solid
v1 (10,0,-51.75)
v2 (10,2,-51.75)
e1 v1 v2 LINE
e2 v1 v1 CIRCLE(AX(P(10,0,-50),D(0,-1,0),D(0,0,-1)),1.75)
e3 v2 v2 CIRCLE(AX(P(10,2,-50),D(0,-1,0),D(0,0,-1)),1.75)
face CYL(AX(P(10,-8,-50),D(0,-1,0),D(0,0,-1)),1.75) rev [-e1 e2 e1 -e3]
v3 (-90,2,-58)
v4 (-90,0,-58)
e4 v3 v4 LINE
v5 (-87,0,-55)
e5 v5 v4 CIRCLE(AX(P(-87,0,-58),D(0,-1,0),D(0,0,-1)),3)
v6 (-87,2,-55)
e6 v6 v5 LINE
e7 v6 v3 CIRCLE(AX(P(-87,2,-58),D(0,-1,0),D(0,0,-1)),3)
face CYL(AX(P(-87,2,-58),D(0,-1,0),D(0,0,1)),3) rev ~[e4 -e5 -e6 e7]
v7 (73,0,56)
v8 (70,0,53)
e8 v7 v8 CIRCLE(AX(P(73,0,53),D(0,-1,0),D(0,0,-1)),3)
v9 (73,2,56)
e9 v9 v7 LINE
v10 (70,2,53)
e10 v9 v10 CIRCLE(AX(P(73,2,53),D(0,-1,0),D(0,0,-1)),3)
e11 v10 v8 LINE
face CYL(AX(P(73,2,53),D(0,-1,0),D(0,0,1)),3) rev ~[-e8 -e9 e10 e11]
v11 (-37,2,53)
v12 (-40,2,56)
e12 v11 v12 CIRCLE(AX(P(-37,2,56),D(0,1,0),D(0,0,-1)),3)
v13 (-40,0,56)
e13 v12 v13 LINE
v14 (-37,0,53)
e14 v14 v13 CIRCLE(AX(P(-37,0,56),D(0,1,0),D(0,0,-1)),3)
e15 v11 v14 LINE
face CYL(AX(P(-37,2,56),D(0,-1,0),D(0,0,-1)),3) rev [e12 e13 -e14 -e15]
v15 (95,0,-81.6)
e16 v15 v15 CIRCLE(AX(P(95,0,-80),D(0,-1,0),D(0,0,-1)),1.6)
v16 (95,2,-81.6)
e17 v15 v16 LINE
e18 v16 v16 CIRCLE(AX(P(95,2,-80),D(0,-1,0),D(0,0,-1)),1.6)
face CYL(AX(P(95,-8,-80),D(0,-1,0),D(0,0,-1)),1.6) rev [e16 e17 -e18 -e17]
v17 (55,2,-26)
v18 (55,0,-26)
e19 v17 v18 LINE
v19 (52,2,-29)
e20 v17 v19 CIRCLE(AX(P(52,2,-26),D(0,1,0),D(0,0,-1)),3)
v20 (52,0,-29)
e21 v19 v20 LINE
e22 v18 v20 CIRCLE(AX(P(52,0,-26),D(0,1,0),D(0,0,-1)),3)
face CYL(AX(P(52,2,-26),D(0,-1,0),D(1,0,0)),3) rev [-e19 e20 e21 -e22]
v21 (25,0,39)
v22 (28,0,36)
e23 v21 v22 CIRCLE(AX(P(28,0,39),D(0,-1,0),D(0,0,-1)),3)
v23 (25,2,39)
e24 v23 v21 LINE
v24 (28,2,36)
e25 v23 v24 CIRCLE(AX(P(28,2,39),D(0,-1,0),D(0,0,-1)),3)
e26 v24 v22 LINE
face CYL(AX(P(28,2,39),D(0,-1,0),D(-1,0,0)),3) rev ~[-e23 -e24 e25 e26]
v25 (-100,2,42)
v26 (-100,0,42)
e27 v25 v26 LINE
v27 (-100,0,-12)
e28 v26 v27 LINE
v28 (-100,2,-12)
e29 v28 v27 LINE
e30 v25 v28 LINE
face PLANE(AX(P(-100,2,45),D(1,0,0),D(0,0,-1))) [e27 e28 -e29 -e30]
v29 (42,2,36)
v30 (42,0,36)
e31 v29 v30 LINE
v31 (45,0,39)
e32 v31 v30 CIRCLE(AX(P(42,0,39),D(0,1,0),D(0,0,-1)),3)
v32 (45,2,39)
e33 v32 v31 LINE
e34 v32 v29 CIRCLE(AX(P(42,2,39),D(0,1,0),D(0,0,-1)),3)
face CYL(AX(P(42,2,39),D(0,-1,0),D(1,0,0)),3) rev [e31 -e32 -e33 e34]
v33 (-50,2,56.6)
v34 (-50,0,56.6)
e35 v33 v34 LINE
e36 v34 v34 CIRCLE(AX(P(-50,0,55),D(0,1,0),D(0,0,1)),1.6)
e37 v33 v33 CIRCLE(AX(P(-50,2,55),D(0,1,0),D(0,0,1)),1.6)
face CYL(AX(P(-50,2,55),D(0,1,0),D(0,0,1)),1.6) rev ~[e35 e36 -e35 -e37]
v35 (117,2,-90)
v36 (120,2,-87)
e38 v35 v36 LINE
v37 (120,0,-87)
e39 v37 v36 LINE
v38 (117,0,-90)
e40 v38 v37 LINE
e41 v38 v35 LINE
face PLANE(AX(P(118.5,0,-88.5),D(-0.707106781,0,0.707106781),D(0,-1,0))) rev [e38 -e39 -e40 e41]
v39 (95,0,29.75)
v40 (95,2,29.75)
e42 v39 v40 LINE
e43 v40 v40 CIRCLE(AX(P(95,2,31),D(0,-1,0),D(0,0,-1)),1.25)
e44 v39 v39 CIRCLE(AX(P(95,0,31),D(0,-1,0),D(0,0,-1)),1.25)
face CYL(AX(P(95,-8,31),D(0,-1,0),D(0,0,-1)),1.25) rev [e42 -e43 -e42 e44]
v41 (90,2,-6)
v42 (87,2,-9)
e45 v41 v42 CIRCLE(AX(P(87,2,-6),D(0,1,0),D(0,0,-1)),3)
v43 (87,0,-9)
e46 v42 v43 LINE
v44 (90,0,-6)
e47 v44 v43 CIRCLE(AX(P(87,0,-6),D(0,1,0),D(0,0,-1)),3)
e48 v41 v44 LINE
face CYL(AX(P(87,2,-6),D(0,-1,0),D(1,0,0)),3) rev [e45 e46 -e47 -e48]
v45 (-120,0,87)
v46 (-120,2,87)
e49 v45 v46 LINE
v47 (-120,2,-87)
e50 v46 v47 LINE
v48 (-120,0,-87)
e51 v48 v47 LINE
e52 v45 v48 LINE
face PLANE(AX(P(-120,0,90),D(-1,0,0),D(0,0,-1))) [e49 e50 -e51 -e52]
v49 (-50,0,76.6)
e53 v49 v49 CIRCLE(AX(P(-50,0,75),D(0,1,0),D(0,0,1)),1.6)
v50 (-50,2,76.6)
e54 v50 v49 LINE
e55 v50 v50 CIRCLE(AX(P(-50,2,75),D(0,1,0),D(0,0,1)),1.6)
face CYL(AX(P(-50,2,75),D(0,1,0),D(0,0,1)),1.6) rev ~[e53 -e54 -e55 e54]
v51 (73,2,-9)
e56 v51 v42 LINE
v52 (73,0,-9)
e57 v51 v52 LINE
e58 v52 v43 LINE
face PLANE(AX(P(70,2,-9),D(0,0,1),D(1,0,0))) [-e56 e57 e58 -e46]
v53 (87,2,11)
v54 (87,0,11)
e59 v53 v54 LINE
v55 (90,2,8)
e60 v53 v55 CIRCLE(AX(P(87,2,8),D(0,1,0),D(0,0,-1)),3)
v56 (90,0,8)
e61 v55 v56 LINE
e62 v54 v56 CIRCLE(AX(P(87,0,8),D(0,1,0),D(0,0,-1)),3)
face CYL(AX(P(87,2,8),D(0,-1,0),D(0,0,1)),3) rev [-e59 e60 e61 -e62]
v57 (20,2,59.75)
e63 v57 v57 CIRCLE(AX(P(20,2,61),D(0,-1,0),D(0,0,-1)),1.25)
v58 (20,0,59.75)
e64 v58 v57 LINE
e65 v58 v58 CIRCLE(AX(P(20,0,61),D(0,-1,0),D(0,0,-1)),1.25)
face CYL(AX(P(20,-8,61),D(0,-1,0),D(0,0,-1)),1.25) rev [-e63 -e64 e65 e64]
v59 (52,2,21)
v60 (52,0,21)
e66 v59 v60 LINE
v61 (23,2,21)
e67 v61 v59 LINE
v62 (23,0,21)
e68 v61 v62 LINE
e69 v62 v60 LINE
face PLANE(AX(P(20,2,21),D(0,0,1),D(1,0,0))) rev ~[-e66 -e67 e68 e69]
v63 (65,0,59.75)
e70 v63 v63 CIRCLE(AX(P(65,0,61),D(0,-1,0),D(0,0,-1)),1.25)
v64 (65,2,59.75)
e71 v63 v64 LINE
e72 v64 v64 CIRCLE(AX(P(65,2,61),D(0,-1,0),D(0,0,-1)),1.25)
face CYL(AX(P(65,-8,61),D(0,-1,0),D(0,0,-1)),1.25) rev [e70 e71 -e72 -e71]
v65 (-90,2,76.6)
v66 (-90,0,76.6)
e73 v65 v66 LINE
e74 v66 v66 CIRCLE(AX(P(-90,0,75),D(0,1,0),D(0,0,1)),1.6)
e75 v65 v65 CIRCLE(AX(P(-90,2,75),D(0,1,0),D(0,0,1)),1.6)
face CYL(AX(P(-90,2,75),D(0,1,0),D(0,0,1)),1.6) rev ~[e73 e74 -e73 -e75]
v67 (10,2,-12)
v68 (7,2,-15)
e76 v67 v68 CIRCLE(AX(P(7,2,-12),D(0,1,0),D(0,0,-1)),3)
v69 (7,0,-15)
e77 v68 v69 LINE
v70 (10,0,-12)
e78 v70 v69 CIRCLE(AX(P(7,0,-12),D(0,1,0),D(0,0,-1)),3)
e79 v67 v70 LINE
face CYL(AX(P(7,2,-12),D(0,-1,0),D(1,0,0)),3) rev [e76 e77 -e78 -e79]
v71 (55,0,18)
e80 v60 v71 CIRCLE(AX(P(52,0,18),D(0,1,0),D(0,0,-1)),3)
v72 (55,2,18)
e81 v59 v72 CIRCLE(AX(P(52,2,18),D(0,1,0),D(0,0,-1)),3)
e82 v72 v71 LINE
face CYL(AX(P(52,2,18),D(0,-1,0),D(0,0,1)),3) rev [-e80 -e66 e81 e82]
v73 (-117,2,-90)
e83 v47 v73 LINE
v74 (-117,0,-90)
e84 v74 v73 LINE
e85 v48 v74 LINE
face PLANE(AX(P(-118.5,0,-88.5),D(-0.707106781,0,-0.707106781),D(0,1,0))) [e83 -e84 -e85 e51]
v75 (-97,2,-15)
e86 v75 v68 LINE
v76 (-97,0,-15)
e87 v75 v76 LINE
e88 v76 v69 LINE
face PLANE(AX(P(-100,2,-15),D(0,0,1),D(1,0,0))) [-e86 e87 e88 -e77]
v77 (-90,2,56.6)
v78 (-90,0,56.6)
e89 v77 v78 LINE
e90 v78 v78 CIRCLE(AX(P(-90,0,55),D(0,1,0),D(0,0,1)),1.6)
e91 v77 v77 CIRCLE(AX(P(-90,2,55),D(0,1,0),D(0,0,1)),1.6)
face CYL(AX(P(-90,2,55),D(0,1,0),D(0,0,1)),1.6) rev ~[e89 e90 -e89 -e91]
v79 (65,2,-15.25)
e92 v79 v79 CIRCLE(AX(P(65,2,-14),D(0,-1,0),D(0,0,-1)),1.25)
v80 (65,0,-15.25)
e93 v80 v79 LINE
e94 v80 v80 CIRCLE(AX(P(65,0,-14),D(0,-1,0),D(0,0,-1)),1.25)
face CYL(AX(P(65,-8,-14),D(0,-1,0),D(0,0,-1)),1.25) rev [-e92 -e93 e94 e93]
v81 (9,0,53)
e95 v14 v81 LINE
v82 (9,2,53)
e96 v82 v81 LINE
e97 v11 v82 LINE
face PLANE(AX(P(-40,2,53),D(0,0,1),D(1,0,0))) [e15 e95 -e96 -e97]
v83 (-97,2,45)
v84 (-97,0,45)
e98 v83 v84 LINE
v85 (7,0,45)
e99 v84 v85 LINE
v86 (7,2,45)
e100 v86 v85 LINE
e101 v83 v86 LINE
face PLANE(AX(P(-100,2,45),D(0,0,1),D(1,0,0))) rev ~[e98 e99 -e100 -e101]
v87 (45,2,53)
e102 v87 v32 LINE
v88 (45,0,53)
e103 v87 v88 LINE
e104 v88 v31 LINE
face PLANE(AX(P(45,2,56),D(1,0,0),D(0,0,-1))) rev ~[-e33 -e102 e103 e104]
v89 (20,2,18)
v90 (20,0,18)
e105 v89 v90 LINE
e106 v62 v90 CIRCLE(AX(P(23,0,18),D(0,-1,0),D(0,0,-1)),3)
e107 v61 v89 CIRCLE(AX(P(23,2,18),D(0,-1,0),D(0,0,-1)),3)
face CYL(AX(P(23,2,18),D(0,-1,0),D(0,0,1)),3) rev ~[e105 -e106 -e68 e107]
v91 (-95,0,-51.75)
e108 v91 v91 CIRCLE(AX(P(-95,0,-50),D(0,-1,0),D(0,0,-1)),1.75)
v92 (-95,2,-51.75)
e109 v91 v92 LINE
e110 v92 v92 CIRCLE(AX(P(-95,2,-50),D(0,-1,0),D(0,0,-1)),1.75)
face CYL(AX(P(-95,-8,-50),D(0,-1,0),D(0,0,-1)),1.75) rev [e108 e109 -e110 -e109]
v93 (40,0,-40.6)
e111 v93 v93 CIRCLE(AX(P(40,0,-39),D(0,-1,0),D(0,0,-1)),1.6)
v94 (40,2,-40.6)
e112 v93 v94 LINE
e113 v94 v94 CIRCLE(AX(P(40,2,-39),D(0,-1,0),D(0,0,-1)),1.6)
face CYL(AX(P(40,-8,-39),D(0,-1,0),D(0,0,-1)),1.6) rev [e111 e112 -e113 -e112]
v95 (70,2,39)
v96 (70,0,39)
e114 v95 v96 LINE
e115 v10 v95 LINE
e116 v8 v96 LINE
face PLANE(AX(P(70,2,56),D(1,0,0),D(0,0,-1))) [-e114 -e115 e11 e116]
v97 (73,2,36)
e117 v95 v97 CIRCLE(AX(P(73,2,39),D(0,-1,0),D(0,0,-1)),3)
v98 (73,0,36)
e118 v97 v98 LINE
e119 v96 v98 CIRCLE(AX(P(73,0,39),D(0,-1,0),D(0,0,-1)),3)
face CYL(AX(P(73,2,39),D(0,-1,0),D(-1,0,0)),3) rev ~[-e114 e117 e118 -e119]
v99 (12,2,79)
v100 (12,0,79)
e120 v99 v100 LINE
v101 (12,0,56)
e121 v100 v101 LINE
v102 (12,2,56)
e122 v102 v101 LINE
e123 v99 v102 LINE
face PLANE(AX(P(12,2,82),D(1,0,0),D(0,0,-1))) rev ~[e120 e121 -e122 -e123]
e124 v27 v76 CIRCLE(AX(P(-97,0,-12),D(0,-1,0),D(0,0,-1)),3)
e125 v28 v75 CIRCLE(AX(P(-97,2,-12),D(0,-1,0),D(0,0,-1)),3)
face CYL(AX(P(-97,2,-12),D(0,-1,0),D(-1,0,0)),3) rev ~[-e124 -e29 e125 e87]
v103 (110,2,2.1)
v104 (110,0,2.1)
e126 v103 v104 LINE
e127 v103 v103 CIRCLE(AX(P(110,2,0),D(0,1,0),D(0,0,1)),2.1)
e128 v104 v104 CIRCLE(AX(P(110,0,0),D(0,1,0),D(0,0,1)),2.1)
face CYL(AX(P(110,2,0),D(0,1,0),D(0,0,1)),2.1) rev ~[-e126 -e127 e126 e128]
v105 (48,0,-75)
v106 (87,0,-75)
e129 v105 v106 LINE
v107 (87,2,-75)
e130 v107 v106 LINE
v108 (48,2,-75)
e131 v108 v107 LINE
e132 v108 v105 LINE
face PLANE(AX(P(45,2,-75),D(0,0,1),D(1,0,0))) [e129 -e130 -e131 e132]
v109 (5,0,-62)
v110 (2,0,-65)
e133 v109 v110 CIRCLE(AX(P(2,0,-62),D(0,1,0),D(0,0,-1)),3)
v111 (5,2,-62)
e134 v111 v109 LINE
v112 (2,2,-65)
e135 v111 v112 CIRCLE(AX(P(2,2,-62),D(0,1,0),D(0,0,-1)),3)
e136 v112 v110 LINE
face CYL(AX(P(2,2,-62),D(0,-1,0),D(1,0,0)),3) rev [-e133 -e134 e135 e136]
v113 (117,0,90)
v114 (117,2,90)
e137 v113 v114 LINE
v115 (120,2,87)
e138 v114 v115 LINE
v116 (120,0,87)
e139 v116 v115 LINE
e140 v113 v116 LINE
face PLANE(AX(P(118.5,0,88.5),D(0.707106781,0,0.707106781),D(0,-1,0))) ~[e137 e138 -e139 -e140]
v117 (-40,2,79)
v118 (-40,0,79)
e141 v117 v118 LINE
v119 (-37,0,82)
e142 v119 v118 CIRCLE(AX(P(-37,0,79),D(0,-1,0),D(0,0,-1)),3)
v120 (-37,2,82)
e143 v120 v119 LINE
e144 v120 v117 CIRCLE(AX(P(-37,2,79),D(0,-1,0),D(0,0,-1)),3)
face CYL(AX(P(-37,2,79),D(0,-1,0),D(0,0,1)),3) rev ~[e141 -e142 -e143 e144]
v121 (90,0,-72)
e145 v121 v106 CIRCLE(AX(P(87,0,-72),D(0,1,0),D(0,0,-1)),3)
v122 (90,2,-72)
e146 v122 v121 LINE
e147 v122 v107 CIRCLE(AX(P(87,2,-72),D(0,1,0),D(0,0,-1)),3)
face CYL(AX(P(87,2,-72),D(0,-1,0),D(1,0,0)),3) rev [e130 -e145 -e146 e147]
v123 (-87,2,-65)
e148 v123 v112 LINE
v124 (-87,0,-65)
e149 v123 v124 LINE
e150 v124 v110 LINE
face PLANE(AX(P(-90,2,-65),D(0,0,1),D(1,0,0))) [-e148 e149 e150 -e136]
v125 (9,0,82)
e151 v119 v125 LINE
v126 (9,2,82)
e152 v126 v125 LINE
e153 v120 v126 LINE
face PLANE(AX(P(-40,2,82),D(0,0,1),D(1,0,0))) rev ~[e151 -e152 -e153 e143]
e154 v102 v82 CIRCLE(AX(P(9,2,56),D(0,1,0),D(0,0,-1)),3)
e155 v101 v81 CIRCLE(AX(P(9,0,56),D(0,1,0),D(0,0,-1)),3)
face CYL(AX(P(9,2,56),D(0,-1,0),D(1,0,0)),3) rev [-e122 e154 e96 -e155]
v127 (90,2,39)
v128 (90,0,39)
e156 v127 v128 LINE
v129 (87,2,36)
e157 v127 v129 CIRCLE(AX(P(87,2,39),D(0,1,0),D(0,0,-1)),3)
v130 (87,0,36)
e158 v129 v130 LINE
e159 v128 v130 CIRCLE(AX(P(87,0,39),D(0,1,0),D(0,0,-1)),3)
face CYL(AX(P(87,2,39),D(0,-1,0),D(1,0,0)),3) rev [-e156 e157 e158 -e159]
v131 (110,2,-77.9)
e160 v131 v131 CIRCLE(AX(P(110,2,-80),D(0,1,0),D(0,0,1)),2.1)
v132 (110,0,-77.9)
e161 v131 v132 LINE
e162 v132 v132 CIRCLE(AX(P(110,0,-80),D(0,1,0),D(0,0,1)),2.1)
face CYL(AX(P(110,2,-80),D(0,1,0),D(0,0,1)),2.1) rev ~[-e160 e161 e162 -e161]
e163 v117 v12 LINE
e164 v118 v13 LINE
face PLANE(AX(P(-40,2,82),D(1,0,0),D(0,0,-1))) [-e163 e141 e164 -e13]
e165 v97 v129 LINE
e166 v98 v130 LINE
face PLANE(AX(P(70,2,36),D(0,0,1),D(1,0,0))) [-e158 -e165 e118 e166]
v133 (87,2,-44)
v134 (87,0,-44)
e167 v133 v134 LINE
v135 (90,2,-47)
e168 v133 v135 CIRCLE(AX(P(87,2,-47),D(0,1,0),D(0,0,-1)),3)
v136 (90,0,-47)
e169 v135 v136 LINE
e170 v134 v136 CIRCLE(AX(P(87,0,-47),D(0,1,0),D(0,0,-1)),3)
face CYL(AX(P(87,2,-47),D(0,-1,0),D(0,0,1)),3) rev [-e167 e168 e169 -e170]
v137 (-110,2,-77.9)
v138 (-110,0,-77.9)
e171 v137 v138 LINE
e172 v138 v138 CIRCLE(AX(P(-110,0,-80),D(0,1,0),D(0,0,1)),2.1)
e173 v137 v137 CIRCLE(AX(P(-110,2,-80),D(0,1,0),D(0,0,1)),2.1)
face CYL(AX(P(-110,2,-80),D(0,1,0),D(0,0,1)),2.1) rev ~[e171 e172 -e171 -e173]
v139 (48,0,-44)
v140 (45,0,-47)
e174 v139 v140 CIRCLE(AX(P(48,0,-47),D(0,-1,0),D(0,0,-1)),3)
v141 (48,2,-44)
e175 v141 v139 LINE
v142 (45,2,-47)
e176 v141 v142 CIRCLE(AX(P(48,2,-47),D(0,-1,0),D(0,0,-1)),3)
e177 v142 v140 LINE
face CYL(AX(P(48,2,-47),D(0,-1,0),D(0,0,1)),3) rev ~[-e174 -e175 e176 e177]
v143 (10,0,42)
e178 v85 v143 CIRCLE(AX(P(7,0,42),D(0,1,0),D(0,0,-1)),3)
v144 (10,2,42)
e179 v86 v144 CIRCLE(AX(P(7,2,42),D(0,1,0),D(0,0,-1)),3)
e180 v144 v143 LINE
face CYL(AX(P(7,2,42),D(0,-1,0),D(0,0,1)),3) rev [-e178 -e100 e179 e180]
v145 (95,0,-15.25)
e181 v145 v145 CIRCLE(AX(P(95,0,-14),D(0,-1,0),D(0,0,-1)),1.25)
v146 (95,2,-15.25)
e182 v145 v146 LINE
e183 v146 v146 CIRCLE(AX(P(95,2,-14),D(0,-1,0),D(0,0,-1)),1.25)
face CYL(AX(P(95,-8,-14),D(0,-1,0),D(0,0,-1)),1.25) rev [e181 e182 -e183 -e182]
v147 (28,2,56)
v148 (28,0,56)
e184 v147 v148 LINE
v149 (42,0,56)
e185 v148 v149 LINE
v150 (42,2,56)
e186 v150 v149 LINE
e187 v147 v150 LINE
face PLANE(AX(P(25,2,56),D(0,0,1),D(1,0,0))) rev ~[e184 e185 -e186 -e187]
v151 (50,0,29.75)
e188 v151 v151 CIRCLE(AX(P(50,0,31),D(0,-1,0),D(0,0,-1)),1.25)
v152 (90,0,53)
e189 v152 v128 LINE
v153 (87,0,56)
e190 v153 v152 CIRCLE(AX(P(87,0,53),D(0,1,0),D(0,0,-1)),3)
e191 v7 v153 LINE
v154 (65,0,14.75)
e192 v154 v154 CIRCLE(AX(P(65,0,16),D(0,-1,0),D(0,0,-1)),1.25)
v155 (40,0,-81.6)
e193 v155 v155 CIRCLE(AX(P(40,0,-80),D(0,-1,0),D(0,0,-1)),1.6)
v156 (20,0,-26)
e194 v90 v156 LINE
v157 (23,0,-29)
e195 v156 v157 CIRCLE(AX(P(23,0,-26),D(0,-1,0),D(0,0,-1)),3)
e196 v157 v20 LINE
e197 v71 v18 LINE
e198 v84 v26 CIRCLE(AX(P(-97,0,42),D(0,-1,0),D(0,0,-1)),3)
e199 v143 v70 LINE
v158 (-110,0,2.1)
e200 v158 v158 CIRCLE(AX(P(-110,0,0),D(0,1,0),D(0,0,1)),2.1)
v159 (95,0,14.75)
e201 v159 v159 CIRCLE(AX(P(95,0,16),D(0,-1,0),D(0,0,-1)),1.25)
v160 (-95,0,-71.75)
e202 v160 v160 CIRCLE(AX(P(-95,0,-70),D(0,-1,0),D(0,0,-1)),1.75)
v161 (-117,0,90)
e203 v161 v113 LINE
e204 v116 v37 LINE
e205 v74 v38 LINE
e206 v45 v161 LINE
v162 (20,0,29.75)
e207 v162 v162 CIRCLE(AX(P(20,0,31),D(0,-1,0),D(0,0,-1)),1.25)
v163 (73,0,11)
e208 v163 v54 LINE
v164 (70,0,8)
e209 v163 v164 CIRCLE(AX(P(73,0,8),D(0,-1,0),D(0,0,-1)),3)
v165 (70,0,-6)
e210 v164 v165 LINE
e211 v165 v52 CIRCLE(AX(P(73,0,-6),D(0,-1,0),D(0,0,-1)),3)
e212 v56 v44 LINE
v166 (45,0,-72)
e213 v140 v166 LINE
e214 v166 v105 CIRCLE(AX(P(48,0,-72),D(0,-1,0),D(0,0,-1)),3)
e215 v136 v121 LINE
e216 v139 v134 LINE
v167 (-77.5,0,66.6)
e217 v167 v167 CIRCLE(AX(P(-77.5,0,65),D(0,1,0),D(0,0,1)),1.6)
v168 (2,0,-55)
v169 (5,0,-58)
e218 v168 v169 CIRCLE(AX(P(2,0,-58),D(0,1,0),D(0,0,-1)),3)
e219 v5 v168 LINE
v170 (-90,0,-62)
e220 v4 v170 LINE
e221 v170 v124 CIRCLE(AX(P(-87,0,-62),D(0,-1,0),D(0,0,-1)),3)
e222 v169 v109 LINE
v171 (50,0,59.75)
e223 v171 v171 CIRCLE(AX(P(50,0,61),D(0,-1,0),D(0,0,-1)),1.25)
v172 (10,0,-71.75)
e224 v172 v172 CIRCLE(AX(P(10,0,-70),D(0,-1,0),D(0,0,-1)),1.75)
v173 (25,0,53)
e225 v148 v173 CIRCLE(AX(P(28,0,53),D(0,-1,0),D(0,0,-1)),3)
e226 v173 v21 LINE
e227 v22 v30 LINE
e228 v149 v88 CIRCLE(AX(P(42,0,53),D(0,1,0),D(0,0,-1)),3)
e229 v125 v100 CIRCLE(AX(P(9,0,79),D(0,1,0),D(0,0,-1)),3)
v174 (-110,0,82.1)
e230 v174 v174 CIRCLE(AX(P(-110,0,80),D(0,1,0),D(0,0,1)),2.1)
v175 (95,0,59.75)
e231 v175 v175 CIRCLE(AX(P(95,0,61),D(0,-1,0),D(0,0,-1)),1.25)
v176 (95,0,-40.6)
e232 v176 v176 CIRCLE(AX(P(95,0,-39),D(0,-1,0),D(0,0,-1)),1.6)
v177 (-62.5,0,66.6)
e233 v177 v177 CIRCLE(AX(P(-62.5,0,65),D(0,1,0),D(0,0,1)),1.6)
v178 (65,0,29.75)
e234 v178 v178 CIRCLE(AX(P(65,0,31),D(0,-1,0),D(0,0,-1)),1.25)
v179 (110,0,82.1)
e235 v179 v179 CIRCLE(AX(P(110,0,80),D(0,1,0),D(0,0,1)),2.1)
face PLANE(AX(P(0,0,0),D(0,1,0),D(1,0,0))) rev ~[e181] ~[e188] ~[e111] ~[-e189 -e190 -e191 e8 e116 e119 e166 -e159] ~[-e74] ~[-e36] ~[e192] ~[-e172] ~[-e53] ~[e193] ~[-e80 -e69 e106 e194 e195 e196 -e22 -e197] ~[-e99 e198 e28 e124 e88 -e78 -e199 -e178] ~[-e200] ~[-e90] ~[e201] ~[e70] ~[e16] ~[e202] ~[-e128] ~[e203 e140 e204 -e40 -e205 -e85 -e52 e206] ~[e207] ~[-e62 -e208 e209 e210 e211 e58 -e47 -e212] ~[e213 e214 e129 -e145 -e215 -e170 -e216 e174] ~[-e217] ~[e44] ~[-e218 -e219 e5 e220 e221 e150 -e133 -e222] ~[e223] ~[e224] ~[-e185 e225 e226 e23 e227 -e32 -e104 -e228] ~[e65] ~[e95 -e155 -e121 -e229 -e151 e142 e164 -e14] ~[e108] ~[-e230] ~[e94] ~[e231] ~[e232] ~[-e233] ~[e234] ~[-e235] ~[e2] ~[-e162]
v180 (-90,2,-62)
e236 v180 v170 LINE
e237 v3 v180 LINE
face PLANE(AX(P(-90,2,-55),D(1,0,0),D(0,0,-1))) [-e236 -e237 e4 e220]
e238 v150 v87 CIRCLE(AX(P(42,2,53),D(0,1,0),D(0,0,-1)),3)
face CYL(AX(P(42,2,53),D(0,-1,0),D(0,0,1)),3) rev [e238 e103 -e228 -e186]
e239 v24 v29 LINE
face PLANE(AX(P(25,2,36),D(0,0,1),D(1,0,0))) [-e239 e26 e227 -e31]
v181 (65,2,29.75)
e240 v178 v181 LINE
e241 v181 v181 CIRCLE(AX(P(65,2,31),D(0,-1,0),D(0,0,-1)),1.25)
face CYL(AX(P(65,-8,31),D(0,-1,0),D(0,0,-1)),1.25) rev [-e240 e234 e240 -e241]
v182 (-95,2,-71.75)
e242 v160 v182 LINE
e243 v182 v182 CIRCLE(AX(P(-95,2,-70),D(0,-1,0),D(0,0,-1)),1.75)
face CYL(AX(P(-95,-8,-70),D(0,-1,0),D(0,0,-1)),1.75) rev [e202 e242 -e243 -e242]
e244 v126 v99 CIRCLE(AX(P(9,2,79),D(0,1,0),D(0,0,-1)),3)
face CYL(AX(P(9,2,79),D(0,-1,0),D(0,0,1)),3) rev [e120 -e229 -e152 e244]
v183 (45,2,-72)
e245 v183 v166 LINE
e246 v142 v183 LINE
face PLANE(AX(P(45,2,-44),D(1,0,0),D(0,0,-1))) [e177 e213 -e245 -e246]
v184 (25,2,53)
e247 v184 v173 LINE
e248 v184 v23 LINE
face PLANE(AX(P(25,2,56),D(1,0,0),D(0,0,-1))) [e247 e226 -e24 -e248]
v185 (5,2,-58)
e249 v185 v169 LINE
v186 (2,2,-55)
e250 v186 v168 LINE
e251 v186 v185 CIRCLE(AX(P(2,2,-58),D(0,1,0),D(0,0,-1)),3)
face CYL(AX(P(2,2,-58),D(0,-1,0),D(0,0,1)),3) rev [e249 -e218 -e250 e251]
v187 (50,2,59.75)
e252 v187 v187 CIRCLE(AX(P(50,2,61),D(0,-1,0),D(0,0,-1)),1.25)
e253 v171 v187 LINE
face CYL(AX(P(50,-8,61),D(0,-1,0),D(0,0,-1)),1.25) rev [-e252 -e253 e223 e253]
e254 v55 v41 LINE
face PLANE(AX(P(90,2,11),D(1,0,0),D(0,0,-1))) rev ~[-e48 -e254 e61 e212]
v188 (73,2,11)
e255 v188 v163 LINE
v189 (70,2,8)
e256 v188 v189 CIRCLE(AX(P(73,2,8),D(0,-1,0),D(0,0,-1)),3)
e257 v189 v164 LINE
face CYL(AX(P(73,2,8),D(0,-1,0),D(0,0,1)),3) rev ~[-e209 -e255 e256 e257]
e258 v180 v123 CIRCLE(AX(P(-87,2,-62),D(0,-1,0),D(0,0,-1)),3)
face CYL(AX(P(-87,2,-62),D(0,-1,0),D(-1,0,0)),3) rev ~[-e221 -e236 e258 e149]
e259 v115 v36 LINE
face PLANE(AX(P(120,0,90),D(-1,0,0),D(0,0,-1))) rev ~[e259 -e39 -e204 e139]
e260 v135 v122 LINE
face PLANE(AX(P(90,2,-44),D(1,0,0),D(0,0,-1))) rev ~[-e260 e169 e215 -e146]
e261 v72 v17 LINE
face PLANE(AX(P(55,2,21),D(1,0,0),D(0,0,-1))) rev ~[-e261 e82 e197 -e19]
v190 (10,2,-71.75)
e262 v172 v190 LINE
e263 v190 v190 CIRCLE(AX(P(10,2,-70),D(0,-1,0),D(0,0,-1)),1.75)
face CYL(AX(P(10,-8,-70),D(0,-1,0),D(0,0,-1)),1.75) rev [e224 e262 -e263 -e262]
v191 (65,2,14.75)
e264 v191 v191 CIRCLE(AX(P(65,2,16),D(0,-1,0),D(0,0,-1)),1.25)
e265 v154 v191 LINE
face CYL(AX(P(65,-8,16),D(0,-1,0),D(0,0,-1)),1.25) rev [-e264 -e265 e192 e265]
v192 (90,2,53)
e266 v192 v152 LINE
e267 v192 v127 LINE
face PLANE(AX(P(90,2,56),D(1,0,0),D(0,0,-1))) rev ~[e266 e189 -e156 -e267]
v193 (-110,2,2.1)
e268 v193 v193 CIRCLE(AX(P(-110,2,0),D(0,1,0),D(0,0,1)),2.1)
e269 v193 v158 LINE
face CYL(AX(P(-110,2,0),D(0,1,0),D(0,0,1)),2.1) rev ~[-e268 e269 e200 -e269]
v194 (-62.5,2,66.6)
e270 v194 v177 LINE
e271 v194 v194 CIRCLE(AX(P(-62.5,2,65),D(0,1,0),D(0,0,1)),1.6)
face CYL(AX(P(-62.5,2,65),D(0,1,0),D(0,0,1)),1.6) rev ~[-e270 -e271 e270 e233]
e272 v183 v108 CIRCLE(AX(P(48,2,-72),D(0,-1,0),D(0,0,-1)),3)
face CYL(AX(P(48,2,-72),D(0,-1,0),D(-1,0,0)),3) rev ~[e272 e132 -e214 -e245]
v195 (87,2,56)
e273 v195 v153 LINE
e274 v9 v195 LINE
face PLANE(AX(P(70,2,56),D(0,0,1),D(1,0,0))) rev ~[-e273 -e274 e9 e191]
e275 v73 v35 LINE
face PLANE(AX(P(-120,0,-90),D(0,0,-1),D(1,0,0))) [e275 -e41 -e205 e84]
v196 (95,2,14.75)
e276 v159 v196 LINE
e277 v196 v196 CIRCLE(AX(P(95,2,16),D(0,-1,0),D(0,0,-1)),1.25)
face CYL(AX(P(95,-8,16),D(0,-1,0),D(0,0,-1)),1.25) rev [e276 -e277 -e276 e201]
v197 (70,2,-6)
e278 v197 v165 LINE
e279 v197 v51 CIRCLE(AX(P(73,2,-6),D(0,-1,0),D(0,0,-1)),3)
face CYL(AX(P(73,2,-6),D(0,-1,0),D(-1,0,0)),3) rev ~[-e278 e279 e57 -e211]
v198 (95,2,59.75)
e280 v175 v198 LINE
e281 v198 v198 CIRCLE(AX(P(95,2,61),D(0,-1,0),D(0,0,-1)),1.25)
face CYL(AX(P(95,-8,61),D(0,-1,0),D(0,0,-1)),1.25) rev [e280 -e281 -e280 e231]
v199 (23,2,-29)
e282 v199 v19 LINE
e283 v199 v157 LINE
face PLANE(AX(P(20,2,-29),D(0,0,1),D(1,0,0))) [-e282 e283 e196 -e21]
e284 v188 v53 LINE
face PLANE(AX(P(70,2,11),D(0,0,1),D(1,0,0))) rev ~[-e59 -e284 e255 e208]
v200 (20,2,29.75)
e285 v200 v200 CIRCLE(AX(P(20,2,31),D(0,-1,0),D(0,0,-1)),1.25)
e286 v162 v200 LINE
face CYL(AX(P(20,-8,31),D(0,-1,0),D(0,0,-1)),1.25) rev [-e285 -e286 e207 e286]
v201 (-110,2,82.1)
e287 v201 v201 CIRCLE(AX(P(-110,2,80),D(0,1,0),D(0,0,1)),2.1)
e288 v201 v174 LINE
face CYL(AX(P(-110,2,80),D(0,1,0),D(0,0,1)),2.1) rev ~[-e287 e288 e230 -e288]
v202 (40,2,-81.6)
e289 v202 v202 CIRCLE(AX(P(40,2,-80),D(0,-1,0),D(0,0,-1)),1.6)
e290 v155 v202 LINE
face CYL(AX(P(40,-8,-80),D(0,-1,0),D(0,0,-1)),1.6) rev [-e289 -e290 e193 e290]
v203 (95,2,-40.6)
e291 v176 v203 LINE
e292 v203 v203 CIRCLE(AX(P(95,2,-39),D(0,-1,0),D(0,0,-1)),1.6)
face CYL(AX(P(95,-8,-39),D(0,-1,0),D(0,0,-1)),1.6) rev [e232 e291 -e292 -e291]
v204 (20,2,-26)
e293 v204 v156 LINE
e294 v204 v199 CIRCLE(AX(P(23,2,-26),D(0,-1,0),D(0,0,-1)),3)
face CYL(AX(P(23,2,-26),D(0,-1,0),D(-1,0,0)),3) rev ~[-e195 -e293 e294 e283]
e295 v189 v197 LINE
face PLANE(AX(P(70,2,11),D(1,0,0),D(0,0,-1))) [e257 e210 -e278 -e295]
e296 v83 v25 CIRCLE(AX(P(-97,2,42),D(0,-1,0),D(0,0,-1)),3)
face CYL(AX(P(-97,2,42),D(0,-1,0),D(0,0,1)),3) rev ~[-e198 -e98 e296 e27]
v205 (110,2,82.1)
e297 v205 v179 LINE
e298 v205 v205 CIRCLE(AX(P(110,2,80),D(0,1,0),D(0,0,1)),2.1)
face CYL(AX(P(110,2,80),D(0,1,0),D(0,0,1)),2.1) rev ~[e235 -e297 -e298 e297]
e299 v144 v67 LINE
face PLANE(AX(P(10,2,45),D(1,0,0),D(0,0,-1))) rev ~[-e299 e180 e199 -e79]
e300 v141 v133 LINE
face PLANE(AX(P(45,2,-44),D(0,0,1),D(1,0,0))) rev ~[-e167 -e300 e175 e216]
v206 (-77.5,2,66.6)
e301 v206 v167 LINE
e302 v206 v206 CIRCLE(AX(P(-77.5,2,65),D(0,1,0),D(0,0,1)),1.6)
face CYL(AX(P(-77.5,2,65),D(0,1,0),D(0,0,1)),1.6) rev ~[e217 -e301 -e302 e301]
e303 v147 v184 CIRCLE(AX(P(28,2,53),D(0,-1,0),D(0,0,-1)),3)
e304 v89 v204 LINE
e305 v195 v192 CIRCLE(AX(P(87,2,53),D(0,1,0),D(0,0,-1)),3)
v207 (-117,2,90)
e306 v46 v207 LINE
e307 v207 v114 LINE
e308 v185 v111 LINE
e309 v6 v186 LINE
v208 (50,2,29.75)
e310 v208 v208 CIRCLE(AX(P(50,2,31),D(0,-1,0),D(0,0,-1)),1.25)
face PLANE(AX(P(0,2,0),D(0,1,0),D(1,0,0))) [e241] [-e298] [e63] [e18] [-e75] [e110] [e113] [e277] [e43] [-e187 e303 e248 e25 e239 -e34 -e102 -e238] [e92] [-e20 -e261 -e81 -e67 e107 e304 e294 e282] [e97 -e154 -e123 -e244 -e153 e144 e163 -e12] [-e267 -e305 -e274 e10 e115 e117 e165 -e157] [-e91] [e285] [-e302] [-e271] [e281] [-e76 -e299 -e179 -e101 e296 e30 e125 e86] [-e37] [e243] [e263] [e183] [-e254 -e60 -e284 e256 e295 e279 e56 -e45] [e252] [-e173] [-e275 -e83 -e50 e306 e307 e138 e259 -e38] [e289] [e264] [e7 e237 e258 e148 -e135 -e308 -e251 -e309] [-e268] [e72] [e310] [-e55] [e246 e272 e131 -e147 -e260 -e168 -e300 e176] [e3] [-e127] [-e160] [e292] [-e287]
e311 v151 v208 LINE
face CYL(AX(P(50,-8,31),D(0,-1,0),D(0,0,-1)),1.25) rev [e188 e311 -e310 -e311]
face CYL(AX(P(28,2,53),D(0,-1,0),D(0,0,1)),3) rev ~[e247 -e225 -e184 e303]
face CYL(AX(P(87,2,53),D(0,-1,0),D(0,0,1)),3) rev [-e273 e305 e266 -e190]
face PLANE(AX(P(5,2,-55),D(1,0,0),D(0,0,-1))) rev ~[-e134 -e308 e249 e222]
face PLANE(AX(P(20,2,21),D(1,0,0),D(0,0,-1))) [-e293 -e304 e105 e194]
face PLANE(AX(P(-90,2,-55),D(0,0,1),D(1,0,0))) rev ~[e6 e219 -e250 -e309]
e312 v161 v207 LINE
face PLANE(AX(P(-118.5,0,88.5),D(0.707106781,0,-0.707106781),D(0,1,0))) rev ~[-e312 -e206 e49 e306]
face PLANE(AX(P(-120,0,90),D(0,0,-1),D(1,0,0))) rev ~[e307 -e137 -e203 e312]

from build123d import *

# Parameters (mm, degrees)
SKETCH_1_W               = 240
SKETCH_1_H               = 180
EXTRUDE_1_DEPTH          = 2
SKETCH_3_R               = 2.1
CUT_EXTRUDE_2_DEPTH      = 10
CUT_EXTRUDE_3_DEPTH      = 151.013332741
CUT_EXTRUDE_3_DEPTH_BACK = 10
SKETCH_4_R               = 1.6
SKETCH_4_R_2             = 1.25
SKETCH_4_R_3             = 1.75
SKETCH_5_R               = 1.6
CUT_EXTRUDE_4_DEPTH      = 10
SKETCH_6_W               = 45
SKETCH_6_H               = 31
SKETCH_6_W_2             = 110
SKETCH_6_H_2             = 60
SKETCH_6_W_3             = 20
SKETCH_6_H_3             = 20
SKETCH_6_W_4             = 35
SKETCH_6_H_4             = 50
SKETCH_6_W_5             = 95
SKETCH_6_H_5             = 10
CUT_EXTRUDE_5_DEPTH      = 10
SKETCH_7_W               = 52
SKETCH_7_H               = 29
CUT_EXTRUDE_6_DEPTH      = 10
FILLET_1_R               = 3
CHAMFER_1_SIZE           = 3


with BuildPart() as part:
    # 草图1 → 凸台-拉伸1 (new body)
    with BuildSketch(Plane(origin=(0, 0, 0), x_dir=(1, 0, 0), z_dir=(0, 1, 0))):
        Rectangle(SKETCH_1_W, SKETCH_1_H)
    extrude(amount=EXTRUDE_1_DEPTH)

    # 草图3 → 切除-拉伸2 (cut)
    with BuildSketch(Plane(origin=(0, 2, 0), x_dir=(1, 0, 0), z_dir=(0, 1, 0))):
        with Locations((-110, 80)):
            Circle(SKETCH_3_R)
        with Locations((-110, 0)):
            Circle(SKETCH_3_R)
        with Locations((-110, -80)):
            Circle(SKETCH_3_R)
        with Locations((110, -80)):
            Circle(SKETCH_3_R)
        with Locations((110, 0)):
            Circle(SKETCH_3_R)
        with Locations((110, 80)):
            Circle(SKETCH_3_R)
    extrude(amount=-CUT_EXTRUDE_2_DEPTH, mode=Mode.SUBTRACT)

    # 草图4 → 切除-拉伸3 (cut, two sides: drawn at the far end of the back side and taken through both)
    with BuildSketch(Plane(origin=(0, 2, 0), x_dir=(1, 0, 0), z_dir=(0, 1, 0)).offset(-CUT_EXTRUDE_3_DEPTH_BACK)):
        with Locations((40, 80)):
            Circle(SKETCH_4_R)
        with Locations((95, 80)):
            Circle(SKETCH_4_R)
        with Locations((40, 39)):
            Circle(SKETCH_4_R)
        with Locations((95, 39)):
            Circle(SKETCH_4_R)
        with Locations((65, 14)):
            Circle(SKETCH_4_R_2)
        with Locations((95, 14)):
            Circle(SKETCH_4_R_2)
        with Locations((95, -16)):
            Circle(SKETCH_4_R_2)
        with Locations((65, -16)):
            Circle(SKETCH_4_R_2)
        with Locations((95, -31)):
            Circle(SKETCH_4_R_2)
        with Locations((65, -31)):
            Circle(SKETCH_4_R_2)
        with Locations((65, -61)):
            Circle(SKETCH_4_R_2)
        with Locations((95, -61)):
            Circle(SKETCH_4_R_2)
        with Locations((50, -31)):
            Circle(SKETCH_4_R_2)
        with Locations((20, -31)):
            Circle(SKETCH_4_R_2)
        with Locations((20, -61)):
            Circle(SKETCH_4_R_2)
        with Locations((50, -61)):
            Circle(SKETCH_4_R_2)
        with Locations((-95, 50)):
            Circle(SKETCH_4_R_3)
        with Locations((-95, 70)):
            Circle(SKETCH_4_R_3)
        with Locations((10, 70)):
            Circle(SKETCH_4_R_3)
        with Locations((10, 50)):
            Circle(SKETCH_4_R_3)
    extrude(amount=CUT_EXTRUDE_3_DEPTH + CUT_EXTRUDE_3_DEPTH_BACK, mode=Mode.SUBTRACT)

    # 草图5 → 切除-拉伸4 (cut)
    with BuildSketch(Plane(origin=(0, 2, 0), x_dir=(1, 0, 0), z_dir=(0, 1, 0))):
        with Locations((-62.5, -65)):
            Circle(SKETCH_5_R)
        with Locations((-77.5, -65)):
            Circle(SKETCH_5_R)
        with Locations((-50, -75)):
            Circle(SKETCH_5_R)
        with Locations((-90, -75)):
            Circle(SKETCH_5_R)
        with Locations((-90, -55)):
            Circle(SKETCH_5_R)
        with Locations((-50, -55)):
            Circle(SKETCH_5_R)
    extrude(amount=-CUT_EXTRUDE_4_DEPTH, mode=Mode.SUBTRACT)

    # 草图6 → 切除-拉伸5 (cut)
    with BuildSketch(Plane(origin=(0, 2, 0), x_dir=(1, 0, 0), z_dir=(0, 1, 0))):
        with Locations((67.5, 59.5)):
            Rectangle(SKETCH_6_W, SKETCH_6_H)
        with Locations((-45, -15)):
            Rectangle(SKETCH_6_W_2, SKETCH_6_H_2)
        with Locations((80, -1)):
            Rectangle(SKETCH_6_W_3, SKETCH_6_H_3)
        with Locations((80, -46)):
            Rectangle(SKETCH_6_W_3, SKETCH_6_H_3)
        with Locations((35, -46)):
            Rectangle(SKETCH_6_W_3, SKETCH_6_H_3)
        with Locations((37.5, 4)):
            Rectangle(SKETCH_6_W_4, SKETCH_6_H_4)
        with Locations((-42.5, 60)):
            Rectangle(SKETCH_6_W_5, SKETCH_6_H_5)
    extrude(amount=-CUT_EXTRUDE_5_DEPTH, mode=Mode.SUBTRACT)

    # 草图7 → 切除-拉伸6 (cut)
    with BuildSketch(Plane(origin=(0, 2, 0), x_dir=(1, 0, 0), z_dir=(0, 1, 0))):
        with Locations((-14, -67.5)):
            Rectangle(SKETCH_7_W, SKETCH_7_H)
    extrude(amount=-CUT_EXTRUDE_6_DEPTH, mode=Mode.SUBTRACT)

    # 圆角1
    fillet_1_edges = [part.edges().sort_by_distance(p)[0] for p in [
        (10, 1, 45),
        (-100, 1, 45),
        (10, 1, -15),
        (90, 1, -9),
        (90, 1, 11),
        (70, 1, 11),
        (70, 1, -9),
        (45, 1, 36),
        (45, 1, 56),
        (25, 1, 56),
        (25, 1, 36),
        (90, 1, -75),
        (90, 1, -44),
        (45, 1, -44),
        (45, 1, -75),
        (90, 1, 36),
        (90, 1, 56),
        (70, 1, 56),
        (70, 1, 36),
        (55, 1, 21),
        (20, 1, 21),
        (20, 1, -29),
        (55, 1, -29),
        (-100, 1, -15),
        (5, 1, -65),
        (5, 1, -55),
        (-90, 1, -55),
        (-90, 1, -65),
        (12, 1, 53),
        (12, 1, 82),
        (-40, 1, 82),
        (-40, 1, 53),
    ]]
    fillet(fillet_1_edges, radius=FILLET_1_R)

    # 倒角1
    chamfer_1_edges = [part.edges().sort_by_distance(p)[0] for p in [
        (-120, 1, 90),
        (120, 1, 90),
        (120, 1, -90),
        (-120, 1, -90),
    ]]
    chamfer(chamfer_1_edges, length=CHAMFER_1_SIZE)


solid = part.part
